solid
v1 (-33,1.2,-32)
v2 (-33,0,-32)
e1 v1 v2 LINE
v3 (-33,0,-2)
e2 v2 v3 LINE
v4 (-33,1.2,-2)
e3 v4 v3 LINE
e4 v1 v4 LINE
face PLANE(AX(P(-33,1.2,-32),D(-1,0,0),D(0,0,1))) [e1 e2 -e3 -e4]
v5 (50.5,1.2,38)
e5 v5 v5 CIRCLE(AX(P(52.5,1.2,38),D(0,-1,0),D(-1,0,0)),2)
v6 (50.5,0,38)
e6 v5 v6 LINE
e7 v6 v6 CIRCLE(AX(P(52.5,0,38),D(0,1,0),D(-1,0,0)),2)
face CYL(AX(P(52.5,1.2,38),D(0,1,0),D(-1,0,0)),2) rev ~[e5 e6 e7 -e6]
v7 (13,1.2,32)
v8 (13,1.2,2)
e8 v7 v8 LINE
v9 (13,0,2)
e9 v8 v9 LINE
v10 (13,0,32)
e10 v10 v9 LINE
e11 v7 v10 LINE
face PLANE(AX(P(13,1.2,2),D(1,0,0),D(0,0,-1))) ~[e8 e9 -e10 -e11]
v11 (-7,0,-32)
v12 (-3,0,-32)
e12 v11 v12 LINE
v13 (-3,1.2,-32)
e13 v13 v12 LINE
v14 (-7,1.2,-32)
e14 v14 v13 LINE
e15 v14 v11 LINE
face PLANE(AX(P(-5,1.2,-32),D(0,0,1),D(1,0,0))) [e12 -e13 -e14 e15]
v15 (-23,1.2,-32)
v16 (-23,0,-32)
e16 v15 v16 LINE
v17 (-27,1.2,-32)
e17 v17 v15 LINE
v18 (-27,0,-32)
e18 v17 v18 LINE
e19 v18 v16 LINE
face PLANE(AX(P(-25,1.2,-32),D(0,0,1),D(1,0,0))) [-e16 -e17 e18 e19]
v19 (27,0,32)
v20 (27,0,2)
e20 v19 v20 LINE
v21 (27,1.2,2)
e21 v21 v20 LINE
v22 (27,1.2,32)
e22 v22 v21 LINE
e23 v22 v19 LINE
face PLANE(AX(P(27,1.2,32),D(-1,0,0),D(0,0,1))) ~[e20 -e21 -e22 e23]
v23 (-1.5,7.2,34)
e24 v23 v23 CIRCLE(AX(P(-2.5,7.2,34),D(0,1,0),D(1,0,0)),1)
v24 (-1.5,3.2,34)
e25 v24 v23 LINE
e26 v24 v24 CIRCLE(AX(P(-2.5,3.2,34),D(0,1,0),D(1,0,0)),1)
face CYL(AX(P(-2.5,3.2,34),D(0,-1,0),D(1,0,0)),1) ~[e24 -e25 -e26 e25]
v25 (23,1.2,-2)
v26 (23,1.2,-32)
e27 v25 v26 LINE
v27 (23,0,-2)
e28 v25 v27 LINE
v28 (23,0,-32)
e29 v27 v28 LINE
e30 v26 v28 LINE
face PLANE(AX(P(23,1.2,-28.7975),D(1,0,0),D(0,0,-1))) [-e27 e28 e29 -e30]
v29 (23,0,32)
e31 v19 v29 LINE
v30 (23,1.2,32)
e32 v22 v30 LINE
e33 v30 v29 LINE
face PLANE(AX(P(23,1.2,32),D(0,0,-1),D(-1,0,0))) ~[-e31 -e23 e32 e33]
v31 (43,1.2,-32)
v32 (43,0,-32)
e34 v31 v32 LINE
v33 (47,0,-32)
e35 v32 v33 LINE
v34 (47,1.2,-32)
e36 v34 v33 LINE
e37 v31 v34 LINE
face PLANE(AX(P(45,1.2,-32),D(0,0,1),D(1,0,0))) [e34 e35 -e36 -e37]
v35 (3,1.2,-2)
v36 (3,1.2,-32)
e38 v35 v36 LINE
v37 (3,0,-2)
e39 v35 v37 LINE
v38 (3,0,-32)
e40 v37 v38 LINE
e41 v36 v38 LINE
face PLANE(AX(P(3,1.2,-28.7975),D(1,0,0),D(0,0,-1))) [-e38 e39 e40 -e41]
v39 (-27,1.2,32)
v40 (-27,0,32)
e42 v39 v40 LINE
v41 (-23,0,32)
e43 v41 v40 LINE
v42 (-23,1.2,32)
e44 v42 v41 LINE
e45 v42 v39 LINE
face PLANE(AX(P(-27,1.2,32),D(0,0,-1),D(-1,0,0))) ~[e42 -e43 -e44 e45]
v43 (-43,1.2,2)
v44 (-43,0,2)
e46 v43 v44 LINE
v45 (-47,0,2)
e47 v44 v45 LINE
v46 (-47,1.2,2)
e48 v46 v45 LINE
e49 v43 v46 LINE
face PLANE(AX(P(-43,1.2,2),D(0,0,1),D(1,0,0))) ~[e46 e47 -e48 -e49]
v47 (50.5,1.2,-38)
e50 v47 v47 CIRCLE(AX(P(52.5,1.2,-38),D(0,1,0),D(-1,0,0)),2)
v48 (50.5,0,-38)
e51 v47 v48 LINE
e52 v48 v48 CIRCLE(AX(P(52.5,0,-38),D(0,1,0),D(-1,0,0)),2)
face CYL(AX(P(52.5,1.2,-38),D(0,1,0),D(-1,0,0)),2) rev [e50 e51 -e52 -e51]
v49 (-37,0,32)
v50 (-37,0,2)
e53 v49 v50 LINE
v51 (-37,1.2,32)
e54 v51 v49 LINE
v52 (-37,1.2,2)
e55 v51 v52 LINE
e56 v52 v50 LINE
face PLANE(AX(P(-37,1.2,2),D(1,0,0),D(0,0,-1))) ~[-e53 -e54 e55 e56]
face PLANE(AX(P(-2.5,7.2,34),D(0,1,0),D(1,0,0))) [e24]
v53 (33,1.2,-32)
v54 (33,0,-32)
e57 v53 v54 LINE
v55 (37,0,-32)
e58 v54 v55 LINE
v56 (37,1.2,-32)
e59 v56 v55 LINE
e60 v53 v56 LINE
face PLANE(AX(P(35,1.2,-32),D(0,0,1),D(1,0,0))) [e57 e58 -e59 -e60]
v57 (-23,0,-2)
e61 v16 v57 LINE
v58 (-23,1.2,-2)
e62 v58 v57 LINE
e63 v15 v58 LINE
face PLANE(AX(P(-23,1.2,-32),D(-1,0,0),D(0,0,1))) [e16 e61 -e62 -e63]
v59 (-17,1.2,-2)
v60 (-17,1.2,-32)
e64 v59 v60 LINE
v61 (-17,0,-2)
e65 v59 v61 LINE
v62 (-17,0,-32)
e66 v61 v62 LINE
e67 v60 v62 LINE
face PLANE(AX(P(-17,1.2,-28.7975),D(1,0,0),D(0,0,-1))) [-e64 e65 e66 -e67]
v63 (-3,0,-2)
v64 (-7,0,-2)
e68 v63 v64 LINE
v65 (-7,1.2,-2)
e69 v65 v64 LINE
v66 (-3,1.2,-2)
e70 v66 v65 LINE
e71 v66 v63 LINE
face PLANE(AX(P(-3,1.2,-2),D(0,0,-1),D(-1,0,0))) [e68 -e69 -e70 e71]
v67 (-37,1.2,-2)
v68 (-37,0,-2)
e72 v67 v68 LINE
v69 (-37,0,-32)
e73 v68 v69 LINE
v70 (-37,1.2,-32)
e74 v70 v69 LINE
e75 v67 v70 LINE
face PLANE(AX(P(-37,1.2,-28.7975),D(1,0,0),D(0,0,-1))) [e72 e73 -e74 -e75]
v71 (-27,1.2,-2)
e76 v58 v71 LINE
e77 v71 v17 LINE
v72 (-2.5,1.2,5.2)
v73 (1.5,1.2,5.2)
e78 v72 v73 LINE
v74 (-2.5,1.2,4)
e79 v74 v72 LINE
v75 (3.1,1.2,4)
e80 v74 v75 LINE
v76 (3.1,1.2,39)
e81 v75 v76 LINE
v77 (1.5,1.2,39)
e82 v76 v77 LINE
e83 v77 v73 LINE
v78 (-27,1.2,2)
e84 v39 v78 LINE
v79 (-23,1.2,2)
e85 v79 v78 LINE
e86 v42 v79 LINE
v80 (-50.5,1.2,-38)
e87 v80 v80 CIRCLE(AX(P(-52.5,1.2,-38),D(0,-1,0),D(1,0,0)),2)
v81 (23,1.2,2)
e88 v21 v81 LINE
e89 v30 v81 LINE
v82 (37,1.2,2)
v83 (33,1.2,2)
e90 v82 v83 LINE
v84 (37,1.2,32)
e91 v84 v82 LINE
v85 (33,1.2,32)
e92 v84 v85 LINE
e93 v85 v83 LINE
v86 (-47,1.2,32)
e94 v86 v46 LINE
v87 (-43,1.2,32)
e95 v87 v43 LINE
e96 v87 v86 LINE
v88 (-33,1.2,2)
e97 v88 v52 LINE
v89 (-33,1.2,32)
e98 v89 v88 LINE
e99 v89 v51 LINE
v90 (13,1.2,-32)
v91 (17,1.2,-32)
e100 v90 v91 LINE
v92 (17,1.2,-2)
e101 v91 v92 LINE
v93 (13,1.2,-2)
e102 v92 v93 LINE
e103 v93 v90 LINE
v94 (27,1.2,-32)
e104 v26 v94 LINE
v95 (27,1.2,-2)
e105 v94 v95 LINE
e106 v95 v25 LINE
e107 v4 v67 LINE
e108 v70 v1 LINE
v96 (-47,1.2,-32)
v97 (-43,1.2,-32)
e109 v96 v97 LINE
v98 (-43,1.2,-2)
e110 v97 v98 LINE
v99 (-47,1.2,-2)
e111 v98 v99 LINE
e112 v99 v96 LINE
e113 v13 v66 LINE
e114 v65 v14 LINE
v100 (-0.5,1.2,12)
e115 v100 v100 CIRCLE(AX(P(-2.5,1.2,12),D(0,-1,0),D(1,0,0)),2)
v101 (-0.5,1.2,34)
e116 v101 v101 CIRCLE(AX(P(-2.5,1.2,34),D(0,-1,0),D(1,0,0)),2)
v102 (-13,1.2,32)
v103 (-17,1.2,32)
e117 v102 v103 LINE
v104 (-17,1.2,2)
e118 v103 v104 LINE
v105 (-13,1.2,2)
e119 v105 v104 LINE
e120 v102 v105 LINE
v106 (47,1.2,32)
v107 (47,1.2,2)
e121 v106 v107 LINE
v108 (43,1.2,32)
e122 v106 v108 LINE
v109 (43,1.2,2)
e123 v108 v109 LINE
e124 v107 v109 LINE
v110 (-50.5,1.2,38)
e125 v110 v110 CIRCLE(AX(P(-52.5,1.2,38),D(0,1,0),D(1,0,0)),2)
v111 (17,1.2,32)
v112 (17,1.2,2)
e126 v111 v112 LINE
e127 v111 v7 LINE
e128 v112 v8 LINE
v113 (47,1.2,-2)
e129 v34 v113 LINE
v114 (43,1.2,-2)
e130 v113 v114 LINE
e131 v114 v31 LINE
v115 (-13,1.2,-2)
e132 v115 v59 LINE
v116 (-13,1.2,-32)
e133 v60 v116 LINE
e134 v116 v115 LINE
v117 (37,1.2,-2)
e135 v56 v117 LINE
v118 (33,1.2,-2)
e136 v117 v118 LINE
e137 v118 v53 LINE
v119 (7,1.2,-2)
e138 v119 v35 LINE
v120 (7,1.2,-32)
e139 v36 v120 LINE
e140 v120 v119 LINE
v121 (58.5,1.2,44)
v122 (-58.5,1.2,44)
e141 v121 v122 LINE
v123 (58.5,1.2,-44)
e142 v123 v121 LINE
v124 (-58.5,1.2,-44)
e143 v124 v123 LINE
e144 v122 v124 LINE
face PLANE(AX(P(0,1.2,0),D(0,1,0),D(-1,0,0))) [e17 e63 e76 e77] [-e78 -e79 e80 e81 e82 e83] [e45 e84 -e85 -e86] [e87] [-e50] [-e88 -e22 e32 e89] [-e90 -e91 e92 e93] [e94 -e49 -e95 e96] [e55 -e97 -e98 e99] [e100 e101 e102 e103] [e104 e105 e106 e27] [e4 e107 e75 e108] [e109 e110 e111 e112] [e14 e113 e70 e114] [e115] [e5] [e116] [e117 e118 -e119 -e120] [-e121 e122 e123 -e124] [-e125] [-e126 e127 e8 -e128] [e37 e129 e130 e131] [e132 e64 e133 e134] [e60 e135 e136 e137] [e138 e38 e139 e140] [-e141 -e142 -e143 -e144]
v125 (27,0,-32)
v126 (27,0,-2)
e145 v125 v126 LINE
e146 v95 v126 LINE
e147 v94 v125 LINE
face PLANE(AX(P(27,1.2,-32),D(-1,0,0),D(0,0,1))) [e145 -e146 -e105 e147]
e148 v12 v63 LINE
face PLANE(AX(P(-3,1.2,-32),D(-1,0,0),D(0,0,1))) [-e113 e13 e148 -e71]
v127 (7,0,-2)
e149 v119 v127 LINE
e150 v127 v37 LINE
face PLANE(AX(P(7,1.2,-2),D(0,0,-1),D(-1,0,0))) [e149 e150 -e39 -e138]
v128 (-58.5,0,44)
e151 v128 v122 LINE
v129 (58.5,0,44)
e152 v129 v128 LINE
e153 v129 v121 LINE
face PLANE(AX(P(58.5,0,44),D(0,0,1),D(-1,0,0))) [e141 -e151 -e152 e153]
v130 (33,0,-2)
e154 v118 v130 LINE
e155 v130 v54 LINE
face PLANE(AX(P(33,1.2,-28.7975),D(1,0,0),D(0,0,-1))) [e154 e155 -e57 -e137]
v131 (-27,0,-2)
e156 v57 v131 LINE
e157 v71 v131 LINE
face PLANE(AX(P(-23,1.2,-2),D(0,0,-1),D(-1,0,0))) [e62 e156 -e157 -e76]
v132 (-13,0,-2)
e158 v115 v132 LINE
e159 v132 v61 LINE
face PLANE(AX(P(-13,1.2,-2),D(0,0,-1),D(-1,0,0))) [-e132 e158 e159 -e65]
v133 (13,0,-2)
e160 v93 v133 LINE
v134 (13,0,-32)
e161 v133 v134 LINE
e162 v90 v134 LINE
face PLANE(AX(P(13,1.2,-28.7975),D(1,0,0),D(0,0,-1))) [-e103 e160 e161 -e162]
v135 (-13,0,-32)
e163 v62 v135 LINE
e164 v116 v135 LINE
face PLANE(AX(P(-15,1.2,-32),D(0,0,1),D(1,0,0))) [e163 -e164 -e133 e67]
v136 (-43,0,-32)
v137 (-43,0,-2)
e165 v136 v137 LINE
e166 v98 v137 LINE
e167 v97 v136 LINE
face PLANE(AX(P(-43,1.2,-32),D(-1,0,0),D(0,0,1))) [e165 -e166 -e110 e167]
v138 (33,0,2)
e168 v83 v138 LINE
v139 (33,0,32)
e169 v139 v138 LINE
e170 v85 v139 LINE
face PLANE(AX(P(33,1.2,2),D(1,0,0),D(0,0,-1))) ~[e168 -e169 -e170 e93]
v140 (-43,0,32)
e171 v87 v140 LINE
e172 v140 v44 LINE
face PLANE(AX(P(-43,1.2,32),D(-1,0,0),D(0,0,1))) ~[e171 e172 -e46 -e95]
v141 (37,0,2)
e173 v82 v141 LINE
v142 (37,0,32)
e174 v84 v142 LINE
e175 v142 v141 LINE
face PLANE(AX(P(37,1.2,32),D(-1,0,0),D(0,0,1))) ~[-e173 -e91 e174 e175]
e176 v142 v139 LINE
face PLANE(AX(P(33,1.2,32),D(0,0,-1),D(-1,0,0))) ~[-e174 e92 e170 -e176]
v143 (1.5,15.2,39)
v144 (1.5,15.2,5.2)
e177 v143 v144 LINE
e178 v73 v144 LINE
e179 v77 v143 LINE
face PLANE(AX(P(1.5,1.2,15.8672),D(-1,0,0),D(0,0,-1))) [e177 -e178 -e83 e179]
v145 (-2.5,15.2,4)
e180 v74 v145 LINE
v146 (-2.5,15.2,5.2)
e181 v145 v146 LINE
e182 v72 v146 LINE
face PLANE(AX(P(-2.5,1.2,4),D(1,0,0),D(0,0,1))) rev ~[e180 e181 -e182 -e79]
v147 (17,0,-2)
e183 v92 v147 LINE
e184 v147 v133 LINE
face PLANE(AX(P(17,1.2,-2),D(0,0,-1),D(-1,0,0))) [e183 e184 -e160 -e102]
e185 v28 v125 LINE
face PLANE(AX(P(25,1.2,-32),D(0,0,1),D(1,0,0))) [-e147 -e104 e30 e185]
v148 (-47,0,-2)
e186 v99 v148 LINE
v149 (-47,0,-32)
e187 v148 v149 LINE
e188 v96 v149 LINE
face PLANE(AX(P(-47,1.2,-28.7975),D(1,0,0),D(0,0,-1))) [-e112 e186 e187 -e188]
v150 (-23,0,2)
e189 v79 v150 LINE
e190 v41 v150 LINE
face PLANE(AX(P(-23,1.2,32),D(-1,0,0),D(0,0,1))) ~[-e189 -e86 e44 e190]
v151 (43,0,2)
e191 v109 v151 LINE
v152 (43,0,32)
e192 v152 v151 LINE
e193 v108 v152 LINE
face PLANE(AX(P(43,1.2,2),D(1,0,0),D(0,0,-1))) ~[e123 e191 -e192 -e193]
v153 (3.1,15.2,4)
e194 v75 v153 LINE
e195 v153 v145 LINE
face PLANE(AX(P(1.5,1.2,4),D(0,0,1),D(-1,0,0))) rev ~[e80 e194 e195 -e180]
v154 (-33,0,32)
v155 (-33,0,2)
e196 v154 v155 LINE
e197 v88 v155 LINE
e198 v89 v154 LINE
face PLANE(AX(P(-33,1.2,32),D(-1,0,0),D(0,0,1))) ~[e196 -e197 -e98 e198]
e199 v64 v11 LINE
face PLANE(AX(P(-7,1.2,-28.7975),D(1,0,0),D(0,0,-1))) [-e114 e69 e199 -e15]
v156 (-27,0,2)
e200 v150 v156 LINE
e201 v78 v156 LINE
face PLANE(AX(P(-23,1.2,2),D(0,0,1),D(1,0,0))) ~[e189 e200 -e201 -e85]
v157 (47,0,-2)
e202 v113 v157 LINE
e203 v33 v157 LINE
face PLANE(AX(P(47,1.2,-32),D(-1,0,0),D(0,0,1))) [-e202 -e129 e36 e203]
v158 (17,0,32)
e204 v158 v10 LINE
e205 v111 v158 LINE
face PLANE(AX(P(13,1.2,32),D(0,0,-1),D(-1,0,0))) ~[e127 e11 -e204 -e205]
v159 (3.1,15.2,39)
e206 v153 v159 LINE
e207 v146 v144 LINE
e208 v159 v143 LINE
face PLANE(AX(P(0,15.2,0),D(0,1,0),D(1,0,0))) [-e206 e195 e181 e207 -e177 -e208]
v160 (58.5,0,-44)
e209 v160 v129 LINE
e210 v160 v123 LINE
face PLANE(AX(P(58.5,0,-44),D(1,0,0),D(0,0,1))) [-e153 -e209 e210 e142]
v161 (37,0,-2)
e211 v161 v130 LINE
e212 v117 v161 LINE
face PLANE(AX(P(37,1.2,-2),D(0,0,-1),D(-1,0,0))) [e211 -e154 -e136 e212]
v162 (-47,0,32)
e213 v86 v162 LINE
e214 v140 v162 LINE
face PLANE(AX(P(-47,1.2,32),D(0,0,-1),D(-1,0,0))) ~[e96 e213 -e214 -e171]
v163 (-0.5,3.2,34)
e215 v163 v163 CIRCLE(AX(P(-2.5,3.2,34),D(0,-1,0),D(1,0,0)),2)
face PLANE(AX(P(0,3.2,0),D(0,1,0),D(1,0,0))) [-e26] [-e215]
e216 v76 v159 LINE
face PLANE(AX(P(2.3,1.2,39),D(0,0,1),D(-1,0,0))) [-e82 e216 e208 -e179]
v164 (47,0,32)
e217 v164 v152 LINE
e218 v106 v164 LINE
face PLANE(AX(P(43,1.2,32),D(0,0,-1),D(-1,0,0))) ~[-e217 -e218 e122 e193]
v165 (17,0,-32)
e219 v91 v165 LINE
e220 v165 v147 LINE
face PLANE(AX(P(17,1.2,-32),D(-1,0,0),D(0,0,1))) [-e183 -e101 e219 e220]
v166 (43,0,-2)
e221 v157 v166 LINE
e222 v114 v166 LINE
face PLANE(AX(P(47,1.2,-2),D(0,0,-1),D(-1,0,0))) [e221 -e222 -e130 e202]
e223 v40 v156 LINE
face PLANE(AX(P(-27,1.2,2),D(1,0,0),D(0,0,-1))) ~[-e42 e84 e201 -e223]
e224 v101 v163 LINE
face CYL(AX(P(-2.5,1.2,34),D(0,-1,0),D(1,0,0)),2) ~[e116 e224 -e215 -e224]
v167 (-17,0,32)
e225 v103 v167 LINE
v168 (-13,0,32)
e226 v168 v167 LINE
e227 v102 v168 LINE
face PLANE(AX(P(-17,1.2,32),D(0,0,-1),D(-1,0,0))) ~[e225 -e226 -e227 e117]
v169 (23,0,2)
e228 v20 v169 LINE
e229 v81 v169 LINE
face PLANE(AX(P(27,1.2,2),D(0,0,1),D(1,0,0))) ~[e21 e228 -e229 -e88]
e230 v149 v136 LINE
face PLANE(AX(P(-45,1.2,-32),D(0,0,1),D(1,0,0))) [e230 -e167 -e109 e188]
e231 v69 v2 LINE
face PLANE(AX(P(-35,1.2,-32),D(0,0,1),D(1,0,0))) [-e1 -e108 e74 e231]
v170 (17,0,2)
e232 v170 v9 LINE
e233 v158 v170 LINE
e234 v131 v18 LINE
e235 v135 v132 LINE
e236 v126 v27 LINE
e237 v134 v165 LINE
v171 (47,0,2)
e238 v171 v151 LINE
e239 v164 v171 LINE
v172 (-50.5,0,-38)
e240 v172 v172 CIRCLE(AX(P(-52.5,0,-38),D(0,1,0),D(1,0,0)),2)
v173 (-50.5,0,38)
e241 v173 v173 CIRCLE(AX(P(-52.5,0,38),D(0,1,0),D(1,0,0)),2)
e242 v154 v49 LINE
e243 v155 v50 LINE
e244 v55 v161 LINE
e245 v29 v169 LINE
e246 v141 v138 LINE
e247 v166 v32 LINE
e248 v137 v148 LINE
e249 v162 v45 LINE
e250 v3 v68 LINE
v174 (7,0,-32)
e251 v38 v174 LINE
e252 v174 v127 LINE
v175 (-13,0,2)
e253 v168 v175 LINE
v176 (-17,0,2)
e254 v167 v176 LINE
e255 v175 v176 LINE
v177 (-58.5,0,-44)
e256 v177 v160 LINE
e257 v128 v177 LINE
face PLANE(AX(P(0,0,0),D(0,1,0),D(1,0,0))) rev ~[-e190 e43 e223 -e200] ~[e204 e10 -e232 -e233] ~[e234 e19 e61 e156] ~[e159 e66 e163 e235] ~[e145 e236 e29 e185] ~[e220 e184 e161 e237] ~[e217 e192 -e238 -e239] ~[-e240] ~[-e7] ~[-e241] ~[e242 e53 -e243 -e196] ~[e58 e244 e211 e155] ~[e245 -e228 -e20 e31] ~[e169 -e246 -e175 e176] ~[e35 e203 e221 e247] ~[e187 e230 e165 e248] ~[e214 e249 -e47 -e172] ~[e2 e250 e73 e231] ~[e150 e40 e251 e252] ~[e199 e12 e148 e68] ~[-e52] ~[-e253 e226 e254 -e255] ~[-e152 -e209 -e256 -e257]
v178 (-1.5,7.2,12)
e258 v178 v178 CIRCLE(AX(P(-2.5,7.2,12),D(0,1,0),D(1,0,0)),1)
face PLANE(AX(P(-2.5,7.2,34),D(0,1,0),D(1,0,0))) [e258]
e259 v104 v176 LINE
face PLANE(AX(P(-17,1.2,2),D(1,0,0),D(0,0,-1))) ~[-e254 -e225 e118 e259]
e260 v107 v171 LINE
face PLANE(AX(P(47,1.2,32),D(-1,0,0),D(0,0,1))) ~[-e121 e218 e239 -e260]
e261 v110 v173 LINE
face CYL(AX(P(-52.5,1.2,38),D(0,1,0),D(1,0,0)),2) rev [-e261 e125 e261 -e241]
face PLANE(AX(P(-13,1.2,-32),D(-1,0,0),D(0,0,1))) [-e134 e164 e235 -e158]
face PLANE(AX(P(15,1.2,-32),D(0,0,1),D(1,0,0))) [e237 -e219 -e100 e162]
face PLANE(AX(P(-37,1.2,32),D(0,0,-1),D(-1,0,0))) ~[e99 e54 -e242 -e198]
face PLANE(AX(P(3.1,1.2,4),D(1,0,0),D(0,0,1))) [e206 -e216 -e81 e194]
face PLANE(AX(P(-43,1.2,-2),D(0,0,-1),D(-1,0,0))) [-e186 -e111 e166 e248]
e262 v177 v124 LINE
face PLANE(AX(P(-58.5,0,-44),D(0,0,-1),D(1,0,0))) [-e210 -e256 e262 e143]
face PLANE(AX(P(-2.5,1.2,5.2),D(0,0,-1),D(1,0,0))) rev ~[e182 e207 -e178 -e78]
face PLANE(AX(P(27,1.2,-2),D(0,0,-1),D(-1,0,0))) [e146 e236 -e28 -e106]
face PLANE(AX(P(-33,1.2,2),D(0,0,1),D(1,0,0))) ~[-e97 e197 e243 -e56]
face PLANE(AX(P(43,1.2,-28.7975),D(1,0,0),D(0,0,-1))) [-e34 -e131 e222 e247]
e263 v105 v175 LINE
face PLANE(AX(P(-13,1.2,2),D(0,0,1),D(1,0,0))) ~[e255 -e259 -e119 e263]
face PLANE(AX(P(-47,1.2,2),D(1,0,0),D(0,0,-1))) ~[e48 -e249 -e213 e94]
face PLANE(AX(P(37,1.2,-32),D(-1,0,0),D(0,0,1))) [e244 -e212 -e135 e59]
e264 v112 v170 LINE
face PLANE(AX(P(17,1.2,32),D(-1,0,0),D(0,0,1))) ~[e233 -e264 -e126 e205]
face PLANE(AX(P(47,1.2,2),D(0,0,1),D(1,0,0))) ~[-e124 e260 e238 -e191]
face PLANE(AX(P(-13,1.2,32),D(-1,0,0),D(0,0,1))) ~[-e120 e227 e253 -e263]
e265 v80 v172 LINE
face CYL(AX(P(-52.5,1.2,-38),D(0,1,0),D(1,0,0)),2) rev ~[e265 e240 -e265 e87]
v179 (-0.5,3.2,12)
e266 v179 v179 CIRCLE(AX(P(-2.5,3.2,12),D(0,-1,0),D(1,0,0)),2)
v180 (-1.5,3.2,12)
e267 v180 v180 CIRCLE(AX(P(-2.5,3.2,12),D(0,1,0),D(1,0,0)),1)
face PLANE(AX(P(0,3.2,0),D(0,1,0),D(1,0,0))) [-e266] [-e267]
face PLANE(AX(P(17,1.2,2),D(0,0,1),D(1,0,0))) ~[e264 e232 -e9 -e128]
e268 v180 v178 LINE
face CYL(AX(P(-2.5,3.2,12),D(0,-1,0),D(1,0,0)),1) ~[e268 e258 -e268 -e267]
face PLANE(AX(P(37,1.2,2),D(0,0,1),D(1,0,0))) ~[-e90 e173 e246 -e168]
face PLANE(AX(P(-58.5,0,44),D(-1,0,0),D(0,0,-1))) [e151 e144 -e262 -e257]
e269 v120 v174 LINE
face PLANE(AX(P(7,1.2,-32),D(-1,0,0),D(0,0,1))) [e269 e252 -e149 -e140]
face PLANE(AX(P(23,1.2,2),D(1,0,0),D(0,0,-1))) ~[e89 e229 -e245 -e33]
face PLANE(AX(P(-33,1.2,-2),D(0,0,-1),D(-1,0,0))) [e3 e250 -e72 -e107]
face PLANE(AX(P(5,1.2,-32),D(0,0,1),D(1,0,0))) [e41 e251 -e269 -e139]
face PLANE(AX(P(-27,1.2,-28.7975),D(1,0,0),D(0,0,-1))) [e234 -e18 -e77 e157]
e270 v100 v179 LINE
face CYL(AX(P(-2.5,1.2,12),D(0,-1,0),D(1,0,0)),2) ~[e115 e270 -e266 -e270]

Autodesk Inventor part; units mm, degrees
ref_plane "YZ Plane" through (0, 0, 0) normal (1, 0, 0) x (0, 1, 0)
ref_plane "XZ Plane" through (0, 0, 0) normal (0, 1, 0) x (-1, 0, 0)
ref_plane "XY Plane" through (0, 0, 0) normal (0, 0, 1) x (1, 0, 0)
sketch "Szkic1" plane through (0, 0, 0) normal (0, 1, 0) x (-1, 0, 0)
  line L0 (58.5, -44) -> (-58.5, -44)
  line L1 (-58.5, -44) -> (-58.5, 44)
  line L2 (-58.5, 44) -> (58.5, 44)
  line L3 (58.5, 44) -> (58.5, -44)
  line L4 (58.5, -44) -> (-58.5, 44) construction
  line L5 (-58.5, -44) -> (58.5, 44) construction
  point P0 (0, 0)
  dimension "d0" = 117
  dimension "d1" = 88
extrude "Wyciągnięcie proste1" add sketch "Szkic1" along normal blind 1.2
sketch "Szkic2" plane through (0, 1.2, 0) normal (0, 1, 0) x (1, 0, 0)
  line L0 (-52.5, 38) -> (-52.5, 44)
  line L1 (58.5, 44) -> (-58.5, 44) projected
  line L2 (-52.5, 38) -> (-46.5, 38) construction
  line L3 (-52.5, 38) -> (-58.5, 38)
  line L4 (-58.5, 44) -> (-58.5, -44) projected
  line L5 (-52.5, 38) -> (-46.5, 38) construction
  circle A0 centre (-52.5, 38) radius 2
  point P0 (0, 0)
  dimension "d4" = 6
  dimension "d5" = 90
  dimension "d6" = 6
  dimension "d7" = 180
  dimension "d8" = 4
extrude "Wyciągnięcie proste2" cut sketch "Szkic2" against normal through all contours L3 A0 L0 | L0 A0 L3
mirror "Odbij1" about plane through (0, 0, 0) normal (0, 0, 1) of "Wyciągnięcie proste2"
mirror "Odbij2" about plane through (0, 0, 0) normal (1, 0, 0) of "Wyciągnięcie proste2", "Odbij1"
sketch "Szkic3" plane through (0, 1.2, 0) normal (0, 1, 0) x (1, 0, 0)
  line L0 (-2.5, -34) -> (-58.5, -34)
  line L1 (-2.5, -34) -> (53.5, -34) construction
  line L2 (-2.5, -34) -> (-2.5, -44)
  line L3 (-2.5, -34) -> (7.5, -34) construction
  line L4 (-58.5, 44) -> (-58.5, -44) projected
  line L5 (-58.5, -44) -> (58.5, -44) projected
  circle A0 centre (-2.5, -34) radius 2
  line L6 (-2.5, -34) -> (-2.5, -12)
  line L7 (-2.5, -34) -> (19.5, -34) construction
  circle A1 centre (-2.5, -12) radius 2
  point P0 (0, 0)
  dimension "d11" = 56
  dimension "d12" = 180
  dimension "d13" = 10
  dimension "d14" = 90
  dimension "d15" = 4
  dimension "d16" = 22
  dimension "d17" = 90
  dimension "d18" = 4
extrude "Wyciągnięcie proste3" add sketch "Szkic3" along normal blind 2 contours L2 A0 L0 | L6 A0 L2 | L0 A0 L6 | A1
sketch "Szkic4" plane through (-2.5, 3.2, 34) normal (0, 1, 0) x (1, 0, 0)
  circle A0 centre (0, 0) radius 1
  circle A1 centre (0, 22) radius 2 projected
  circle A2 centre (0, 22) radius 1
  point P0 (2.5, 34)
  dimension "d21" = 2
  dimension "d22" = 2
extrude "Wyciągnięcie proste4" add sketch "Szkic4" along normal blind 4 contours A0 | A2
sketch "Szkic5" plane through (0, 1.2, 0) normal (0, 1, 0) x (1, 0, 0)
  line L0 (1.5, -4) -> (3.1, -4)
  line L1 (3.1, -4) -> (3.1, -39)
  line L2 (3.1, -39) -> (1.5, -39)
  line L3 (1.5, -39) -> (1.5, -4)
  line L4 (2.3, -39) -> (2.3, -44)
  line L5 (-58.5, -44) -> (58.5, -44) projected
  line L6 (1.5, -15.8672) -> (-58.5, -15.8672)
  line L7 (-58.5, 44) -> (-58.5, -44) projected
  point P0 (0, 0)
  dimension "d25" = 1.6
  dimension "d26" = 35
  dimension "d27" = 5
  dimension "d28" = 60
extrude "Wyciągnięcie proste5" add sketch "Szkic5" along normal blind 14 contours L0 L1 L2 L3
sketch "Szkic6" plane through (0, 1.2, 0) normal (0, 1, 0) x (1, 0, 0)
  line L0 (3.1, -4) -> (1.5, -4) projected
  line L1 (1.5, -4) -> (-2.5, -4)
  line L2 (-2.5, -4) -> (-2.5, -5.2)
  line L3 (-2.5, -5.2) -> (1.5, -5.2)
  line L4 (1.5, -5.2) -> (1.5, -4)
  point P0 (0, 0)
  dimension "d31" = 4
  dimension "d32" = 1.2
extrude "Wyciągnięcie proste6" add sketch "Szkic6" along normal blind 14
sketch "Szkic7" plane through (0, 1.2, 0) normal (0, 1, 0) x (1, 0, 0)
  line L0 (-47, 32) -> (-43, 32)
  line L1 (-43, 32) -> (-43, 2)
  line L2 (-43, 2) -> (-47, 2)
  line L3 (-47, 2) -> (-47, 32)
  line L4 (-47, 28.7975) -> (-58.5, 28.7975)
  line L5 (-47, 28.7975) -> (-35.5, 28.7975) construction
  line L6 (-58.5, 44) -> (-58.5, -44) projected
  line L7 (-45, 32) -> (-45, 44)
  line L8 (-45, 32) -> (-33, 32) construction
  line L9 (58.5, 44) -> (-58.5, 44) projected
  point P0 (0, 0)
  dimension "d35" = 4
  dimension "d36" = 30
  dimension "d37" = 11.5
  dimension "d38" = 180
  dimension "d39" = 12
  dimension "d40" = 90
extrude "Wyciągnięcie proste7" cut sketch "Szkic7" against normal through all contours L0 L1 L2 L3
pattern_linear "Szyk prostokątny3" count 10 spacing 10 along (1, 0, 0) of "Wyciągnięcie proste7"
mirror "Odbij5" about plane through (0, 0, 0) normal (0, 0, 1) of "Wyciągnięcie proste7", "Szyk prostokątny3"
sketch "Szkic8" plane through (0, 1.2, 0) normal (0, 1, 0) x (1, 0, 0)
  line L0 (-7, -32) -> (-7, -2) projected
  line L1 (7, -2) -> (-7, -2)
  line L2 (-7, -2) -> (-7, -32)
  line L3 (-7, -32) -> (7, -32)
  line L4 (7, -32) -> (7, -2)
  point P0 (0, 0)
  point P1 (-7, -2)
extrude "Wyciągnięcie proste8" add sketch "Szkic8" against normal up to surface (1.2 mm away)
properties part number "platforma"
